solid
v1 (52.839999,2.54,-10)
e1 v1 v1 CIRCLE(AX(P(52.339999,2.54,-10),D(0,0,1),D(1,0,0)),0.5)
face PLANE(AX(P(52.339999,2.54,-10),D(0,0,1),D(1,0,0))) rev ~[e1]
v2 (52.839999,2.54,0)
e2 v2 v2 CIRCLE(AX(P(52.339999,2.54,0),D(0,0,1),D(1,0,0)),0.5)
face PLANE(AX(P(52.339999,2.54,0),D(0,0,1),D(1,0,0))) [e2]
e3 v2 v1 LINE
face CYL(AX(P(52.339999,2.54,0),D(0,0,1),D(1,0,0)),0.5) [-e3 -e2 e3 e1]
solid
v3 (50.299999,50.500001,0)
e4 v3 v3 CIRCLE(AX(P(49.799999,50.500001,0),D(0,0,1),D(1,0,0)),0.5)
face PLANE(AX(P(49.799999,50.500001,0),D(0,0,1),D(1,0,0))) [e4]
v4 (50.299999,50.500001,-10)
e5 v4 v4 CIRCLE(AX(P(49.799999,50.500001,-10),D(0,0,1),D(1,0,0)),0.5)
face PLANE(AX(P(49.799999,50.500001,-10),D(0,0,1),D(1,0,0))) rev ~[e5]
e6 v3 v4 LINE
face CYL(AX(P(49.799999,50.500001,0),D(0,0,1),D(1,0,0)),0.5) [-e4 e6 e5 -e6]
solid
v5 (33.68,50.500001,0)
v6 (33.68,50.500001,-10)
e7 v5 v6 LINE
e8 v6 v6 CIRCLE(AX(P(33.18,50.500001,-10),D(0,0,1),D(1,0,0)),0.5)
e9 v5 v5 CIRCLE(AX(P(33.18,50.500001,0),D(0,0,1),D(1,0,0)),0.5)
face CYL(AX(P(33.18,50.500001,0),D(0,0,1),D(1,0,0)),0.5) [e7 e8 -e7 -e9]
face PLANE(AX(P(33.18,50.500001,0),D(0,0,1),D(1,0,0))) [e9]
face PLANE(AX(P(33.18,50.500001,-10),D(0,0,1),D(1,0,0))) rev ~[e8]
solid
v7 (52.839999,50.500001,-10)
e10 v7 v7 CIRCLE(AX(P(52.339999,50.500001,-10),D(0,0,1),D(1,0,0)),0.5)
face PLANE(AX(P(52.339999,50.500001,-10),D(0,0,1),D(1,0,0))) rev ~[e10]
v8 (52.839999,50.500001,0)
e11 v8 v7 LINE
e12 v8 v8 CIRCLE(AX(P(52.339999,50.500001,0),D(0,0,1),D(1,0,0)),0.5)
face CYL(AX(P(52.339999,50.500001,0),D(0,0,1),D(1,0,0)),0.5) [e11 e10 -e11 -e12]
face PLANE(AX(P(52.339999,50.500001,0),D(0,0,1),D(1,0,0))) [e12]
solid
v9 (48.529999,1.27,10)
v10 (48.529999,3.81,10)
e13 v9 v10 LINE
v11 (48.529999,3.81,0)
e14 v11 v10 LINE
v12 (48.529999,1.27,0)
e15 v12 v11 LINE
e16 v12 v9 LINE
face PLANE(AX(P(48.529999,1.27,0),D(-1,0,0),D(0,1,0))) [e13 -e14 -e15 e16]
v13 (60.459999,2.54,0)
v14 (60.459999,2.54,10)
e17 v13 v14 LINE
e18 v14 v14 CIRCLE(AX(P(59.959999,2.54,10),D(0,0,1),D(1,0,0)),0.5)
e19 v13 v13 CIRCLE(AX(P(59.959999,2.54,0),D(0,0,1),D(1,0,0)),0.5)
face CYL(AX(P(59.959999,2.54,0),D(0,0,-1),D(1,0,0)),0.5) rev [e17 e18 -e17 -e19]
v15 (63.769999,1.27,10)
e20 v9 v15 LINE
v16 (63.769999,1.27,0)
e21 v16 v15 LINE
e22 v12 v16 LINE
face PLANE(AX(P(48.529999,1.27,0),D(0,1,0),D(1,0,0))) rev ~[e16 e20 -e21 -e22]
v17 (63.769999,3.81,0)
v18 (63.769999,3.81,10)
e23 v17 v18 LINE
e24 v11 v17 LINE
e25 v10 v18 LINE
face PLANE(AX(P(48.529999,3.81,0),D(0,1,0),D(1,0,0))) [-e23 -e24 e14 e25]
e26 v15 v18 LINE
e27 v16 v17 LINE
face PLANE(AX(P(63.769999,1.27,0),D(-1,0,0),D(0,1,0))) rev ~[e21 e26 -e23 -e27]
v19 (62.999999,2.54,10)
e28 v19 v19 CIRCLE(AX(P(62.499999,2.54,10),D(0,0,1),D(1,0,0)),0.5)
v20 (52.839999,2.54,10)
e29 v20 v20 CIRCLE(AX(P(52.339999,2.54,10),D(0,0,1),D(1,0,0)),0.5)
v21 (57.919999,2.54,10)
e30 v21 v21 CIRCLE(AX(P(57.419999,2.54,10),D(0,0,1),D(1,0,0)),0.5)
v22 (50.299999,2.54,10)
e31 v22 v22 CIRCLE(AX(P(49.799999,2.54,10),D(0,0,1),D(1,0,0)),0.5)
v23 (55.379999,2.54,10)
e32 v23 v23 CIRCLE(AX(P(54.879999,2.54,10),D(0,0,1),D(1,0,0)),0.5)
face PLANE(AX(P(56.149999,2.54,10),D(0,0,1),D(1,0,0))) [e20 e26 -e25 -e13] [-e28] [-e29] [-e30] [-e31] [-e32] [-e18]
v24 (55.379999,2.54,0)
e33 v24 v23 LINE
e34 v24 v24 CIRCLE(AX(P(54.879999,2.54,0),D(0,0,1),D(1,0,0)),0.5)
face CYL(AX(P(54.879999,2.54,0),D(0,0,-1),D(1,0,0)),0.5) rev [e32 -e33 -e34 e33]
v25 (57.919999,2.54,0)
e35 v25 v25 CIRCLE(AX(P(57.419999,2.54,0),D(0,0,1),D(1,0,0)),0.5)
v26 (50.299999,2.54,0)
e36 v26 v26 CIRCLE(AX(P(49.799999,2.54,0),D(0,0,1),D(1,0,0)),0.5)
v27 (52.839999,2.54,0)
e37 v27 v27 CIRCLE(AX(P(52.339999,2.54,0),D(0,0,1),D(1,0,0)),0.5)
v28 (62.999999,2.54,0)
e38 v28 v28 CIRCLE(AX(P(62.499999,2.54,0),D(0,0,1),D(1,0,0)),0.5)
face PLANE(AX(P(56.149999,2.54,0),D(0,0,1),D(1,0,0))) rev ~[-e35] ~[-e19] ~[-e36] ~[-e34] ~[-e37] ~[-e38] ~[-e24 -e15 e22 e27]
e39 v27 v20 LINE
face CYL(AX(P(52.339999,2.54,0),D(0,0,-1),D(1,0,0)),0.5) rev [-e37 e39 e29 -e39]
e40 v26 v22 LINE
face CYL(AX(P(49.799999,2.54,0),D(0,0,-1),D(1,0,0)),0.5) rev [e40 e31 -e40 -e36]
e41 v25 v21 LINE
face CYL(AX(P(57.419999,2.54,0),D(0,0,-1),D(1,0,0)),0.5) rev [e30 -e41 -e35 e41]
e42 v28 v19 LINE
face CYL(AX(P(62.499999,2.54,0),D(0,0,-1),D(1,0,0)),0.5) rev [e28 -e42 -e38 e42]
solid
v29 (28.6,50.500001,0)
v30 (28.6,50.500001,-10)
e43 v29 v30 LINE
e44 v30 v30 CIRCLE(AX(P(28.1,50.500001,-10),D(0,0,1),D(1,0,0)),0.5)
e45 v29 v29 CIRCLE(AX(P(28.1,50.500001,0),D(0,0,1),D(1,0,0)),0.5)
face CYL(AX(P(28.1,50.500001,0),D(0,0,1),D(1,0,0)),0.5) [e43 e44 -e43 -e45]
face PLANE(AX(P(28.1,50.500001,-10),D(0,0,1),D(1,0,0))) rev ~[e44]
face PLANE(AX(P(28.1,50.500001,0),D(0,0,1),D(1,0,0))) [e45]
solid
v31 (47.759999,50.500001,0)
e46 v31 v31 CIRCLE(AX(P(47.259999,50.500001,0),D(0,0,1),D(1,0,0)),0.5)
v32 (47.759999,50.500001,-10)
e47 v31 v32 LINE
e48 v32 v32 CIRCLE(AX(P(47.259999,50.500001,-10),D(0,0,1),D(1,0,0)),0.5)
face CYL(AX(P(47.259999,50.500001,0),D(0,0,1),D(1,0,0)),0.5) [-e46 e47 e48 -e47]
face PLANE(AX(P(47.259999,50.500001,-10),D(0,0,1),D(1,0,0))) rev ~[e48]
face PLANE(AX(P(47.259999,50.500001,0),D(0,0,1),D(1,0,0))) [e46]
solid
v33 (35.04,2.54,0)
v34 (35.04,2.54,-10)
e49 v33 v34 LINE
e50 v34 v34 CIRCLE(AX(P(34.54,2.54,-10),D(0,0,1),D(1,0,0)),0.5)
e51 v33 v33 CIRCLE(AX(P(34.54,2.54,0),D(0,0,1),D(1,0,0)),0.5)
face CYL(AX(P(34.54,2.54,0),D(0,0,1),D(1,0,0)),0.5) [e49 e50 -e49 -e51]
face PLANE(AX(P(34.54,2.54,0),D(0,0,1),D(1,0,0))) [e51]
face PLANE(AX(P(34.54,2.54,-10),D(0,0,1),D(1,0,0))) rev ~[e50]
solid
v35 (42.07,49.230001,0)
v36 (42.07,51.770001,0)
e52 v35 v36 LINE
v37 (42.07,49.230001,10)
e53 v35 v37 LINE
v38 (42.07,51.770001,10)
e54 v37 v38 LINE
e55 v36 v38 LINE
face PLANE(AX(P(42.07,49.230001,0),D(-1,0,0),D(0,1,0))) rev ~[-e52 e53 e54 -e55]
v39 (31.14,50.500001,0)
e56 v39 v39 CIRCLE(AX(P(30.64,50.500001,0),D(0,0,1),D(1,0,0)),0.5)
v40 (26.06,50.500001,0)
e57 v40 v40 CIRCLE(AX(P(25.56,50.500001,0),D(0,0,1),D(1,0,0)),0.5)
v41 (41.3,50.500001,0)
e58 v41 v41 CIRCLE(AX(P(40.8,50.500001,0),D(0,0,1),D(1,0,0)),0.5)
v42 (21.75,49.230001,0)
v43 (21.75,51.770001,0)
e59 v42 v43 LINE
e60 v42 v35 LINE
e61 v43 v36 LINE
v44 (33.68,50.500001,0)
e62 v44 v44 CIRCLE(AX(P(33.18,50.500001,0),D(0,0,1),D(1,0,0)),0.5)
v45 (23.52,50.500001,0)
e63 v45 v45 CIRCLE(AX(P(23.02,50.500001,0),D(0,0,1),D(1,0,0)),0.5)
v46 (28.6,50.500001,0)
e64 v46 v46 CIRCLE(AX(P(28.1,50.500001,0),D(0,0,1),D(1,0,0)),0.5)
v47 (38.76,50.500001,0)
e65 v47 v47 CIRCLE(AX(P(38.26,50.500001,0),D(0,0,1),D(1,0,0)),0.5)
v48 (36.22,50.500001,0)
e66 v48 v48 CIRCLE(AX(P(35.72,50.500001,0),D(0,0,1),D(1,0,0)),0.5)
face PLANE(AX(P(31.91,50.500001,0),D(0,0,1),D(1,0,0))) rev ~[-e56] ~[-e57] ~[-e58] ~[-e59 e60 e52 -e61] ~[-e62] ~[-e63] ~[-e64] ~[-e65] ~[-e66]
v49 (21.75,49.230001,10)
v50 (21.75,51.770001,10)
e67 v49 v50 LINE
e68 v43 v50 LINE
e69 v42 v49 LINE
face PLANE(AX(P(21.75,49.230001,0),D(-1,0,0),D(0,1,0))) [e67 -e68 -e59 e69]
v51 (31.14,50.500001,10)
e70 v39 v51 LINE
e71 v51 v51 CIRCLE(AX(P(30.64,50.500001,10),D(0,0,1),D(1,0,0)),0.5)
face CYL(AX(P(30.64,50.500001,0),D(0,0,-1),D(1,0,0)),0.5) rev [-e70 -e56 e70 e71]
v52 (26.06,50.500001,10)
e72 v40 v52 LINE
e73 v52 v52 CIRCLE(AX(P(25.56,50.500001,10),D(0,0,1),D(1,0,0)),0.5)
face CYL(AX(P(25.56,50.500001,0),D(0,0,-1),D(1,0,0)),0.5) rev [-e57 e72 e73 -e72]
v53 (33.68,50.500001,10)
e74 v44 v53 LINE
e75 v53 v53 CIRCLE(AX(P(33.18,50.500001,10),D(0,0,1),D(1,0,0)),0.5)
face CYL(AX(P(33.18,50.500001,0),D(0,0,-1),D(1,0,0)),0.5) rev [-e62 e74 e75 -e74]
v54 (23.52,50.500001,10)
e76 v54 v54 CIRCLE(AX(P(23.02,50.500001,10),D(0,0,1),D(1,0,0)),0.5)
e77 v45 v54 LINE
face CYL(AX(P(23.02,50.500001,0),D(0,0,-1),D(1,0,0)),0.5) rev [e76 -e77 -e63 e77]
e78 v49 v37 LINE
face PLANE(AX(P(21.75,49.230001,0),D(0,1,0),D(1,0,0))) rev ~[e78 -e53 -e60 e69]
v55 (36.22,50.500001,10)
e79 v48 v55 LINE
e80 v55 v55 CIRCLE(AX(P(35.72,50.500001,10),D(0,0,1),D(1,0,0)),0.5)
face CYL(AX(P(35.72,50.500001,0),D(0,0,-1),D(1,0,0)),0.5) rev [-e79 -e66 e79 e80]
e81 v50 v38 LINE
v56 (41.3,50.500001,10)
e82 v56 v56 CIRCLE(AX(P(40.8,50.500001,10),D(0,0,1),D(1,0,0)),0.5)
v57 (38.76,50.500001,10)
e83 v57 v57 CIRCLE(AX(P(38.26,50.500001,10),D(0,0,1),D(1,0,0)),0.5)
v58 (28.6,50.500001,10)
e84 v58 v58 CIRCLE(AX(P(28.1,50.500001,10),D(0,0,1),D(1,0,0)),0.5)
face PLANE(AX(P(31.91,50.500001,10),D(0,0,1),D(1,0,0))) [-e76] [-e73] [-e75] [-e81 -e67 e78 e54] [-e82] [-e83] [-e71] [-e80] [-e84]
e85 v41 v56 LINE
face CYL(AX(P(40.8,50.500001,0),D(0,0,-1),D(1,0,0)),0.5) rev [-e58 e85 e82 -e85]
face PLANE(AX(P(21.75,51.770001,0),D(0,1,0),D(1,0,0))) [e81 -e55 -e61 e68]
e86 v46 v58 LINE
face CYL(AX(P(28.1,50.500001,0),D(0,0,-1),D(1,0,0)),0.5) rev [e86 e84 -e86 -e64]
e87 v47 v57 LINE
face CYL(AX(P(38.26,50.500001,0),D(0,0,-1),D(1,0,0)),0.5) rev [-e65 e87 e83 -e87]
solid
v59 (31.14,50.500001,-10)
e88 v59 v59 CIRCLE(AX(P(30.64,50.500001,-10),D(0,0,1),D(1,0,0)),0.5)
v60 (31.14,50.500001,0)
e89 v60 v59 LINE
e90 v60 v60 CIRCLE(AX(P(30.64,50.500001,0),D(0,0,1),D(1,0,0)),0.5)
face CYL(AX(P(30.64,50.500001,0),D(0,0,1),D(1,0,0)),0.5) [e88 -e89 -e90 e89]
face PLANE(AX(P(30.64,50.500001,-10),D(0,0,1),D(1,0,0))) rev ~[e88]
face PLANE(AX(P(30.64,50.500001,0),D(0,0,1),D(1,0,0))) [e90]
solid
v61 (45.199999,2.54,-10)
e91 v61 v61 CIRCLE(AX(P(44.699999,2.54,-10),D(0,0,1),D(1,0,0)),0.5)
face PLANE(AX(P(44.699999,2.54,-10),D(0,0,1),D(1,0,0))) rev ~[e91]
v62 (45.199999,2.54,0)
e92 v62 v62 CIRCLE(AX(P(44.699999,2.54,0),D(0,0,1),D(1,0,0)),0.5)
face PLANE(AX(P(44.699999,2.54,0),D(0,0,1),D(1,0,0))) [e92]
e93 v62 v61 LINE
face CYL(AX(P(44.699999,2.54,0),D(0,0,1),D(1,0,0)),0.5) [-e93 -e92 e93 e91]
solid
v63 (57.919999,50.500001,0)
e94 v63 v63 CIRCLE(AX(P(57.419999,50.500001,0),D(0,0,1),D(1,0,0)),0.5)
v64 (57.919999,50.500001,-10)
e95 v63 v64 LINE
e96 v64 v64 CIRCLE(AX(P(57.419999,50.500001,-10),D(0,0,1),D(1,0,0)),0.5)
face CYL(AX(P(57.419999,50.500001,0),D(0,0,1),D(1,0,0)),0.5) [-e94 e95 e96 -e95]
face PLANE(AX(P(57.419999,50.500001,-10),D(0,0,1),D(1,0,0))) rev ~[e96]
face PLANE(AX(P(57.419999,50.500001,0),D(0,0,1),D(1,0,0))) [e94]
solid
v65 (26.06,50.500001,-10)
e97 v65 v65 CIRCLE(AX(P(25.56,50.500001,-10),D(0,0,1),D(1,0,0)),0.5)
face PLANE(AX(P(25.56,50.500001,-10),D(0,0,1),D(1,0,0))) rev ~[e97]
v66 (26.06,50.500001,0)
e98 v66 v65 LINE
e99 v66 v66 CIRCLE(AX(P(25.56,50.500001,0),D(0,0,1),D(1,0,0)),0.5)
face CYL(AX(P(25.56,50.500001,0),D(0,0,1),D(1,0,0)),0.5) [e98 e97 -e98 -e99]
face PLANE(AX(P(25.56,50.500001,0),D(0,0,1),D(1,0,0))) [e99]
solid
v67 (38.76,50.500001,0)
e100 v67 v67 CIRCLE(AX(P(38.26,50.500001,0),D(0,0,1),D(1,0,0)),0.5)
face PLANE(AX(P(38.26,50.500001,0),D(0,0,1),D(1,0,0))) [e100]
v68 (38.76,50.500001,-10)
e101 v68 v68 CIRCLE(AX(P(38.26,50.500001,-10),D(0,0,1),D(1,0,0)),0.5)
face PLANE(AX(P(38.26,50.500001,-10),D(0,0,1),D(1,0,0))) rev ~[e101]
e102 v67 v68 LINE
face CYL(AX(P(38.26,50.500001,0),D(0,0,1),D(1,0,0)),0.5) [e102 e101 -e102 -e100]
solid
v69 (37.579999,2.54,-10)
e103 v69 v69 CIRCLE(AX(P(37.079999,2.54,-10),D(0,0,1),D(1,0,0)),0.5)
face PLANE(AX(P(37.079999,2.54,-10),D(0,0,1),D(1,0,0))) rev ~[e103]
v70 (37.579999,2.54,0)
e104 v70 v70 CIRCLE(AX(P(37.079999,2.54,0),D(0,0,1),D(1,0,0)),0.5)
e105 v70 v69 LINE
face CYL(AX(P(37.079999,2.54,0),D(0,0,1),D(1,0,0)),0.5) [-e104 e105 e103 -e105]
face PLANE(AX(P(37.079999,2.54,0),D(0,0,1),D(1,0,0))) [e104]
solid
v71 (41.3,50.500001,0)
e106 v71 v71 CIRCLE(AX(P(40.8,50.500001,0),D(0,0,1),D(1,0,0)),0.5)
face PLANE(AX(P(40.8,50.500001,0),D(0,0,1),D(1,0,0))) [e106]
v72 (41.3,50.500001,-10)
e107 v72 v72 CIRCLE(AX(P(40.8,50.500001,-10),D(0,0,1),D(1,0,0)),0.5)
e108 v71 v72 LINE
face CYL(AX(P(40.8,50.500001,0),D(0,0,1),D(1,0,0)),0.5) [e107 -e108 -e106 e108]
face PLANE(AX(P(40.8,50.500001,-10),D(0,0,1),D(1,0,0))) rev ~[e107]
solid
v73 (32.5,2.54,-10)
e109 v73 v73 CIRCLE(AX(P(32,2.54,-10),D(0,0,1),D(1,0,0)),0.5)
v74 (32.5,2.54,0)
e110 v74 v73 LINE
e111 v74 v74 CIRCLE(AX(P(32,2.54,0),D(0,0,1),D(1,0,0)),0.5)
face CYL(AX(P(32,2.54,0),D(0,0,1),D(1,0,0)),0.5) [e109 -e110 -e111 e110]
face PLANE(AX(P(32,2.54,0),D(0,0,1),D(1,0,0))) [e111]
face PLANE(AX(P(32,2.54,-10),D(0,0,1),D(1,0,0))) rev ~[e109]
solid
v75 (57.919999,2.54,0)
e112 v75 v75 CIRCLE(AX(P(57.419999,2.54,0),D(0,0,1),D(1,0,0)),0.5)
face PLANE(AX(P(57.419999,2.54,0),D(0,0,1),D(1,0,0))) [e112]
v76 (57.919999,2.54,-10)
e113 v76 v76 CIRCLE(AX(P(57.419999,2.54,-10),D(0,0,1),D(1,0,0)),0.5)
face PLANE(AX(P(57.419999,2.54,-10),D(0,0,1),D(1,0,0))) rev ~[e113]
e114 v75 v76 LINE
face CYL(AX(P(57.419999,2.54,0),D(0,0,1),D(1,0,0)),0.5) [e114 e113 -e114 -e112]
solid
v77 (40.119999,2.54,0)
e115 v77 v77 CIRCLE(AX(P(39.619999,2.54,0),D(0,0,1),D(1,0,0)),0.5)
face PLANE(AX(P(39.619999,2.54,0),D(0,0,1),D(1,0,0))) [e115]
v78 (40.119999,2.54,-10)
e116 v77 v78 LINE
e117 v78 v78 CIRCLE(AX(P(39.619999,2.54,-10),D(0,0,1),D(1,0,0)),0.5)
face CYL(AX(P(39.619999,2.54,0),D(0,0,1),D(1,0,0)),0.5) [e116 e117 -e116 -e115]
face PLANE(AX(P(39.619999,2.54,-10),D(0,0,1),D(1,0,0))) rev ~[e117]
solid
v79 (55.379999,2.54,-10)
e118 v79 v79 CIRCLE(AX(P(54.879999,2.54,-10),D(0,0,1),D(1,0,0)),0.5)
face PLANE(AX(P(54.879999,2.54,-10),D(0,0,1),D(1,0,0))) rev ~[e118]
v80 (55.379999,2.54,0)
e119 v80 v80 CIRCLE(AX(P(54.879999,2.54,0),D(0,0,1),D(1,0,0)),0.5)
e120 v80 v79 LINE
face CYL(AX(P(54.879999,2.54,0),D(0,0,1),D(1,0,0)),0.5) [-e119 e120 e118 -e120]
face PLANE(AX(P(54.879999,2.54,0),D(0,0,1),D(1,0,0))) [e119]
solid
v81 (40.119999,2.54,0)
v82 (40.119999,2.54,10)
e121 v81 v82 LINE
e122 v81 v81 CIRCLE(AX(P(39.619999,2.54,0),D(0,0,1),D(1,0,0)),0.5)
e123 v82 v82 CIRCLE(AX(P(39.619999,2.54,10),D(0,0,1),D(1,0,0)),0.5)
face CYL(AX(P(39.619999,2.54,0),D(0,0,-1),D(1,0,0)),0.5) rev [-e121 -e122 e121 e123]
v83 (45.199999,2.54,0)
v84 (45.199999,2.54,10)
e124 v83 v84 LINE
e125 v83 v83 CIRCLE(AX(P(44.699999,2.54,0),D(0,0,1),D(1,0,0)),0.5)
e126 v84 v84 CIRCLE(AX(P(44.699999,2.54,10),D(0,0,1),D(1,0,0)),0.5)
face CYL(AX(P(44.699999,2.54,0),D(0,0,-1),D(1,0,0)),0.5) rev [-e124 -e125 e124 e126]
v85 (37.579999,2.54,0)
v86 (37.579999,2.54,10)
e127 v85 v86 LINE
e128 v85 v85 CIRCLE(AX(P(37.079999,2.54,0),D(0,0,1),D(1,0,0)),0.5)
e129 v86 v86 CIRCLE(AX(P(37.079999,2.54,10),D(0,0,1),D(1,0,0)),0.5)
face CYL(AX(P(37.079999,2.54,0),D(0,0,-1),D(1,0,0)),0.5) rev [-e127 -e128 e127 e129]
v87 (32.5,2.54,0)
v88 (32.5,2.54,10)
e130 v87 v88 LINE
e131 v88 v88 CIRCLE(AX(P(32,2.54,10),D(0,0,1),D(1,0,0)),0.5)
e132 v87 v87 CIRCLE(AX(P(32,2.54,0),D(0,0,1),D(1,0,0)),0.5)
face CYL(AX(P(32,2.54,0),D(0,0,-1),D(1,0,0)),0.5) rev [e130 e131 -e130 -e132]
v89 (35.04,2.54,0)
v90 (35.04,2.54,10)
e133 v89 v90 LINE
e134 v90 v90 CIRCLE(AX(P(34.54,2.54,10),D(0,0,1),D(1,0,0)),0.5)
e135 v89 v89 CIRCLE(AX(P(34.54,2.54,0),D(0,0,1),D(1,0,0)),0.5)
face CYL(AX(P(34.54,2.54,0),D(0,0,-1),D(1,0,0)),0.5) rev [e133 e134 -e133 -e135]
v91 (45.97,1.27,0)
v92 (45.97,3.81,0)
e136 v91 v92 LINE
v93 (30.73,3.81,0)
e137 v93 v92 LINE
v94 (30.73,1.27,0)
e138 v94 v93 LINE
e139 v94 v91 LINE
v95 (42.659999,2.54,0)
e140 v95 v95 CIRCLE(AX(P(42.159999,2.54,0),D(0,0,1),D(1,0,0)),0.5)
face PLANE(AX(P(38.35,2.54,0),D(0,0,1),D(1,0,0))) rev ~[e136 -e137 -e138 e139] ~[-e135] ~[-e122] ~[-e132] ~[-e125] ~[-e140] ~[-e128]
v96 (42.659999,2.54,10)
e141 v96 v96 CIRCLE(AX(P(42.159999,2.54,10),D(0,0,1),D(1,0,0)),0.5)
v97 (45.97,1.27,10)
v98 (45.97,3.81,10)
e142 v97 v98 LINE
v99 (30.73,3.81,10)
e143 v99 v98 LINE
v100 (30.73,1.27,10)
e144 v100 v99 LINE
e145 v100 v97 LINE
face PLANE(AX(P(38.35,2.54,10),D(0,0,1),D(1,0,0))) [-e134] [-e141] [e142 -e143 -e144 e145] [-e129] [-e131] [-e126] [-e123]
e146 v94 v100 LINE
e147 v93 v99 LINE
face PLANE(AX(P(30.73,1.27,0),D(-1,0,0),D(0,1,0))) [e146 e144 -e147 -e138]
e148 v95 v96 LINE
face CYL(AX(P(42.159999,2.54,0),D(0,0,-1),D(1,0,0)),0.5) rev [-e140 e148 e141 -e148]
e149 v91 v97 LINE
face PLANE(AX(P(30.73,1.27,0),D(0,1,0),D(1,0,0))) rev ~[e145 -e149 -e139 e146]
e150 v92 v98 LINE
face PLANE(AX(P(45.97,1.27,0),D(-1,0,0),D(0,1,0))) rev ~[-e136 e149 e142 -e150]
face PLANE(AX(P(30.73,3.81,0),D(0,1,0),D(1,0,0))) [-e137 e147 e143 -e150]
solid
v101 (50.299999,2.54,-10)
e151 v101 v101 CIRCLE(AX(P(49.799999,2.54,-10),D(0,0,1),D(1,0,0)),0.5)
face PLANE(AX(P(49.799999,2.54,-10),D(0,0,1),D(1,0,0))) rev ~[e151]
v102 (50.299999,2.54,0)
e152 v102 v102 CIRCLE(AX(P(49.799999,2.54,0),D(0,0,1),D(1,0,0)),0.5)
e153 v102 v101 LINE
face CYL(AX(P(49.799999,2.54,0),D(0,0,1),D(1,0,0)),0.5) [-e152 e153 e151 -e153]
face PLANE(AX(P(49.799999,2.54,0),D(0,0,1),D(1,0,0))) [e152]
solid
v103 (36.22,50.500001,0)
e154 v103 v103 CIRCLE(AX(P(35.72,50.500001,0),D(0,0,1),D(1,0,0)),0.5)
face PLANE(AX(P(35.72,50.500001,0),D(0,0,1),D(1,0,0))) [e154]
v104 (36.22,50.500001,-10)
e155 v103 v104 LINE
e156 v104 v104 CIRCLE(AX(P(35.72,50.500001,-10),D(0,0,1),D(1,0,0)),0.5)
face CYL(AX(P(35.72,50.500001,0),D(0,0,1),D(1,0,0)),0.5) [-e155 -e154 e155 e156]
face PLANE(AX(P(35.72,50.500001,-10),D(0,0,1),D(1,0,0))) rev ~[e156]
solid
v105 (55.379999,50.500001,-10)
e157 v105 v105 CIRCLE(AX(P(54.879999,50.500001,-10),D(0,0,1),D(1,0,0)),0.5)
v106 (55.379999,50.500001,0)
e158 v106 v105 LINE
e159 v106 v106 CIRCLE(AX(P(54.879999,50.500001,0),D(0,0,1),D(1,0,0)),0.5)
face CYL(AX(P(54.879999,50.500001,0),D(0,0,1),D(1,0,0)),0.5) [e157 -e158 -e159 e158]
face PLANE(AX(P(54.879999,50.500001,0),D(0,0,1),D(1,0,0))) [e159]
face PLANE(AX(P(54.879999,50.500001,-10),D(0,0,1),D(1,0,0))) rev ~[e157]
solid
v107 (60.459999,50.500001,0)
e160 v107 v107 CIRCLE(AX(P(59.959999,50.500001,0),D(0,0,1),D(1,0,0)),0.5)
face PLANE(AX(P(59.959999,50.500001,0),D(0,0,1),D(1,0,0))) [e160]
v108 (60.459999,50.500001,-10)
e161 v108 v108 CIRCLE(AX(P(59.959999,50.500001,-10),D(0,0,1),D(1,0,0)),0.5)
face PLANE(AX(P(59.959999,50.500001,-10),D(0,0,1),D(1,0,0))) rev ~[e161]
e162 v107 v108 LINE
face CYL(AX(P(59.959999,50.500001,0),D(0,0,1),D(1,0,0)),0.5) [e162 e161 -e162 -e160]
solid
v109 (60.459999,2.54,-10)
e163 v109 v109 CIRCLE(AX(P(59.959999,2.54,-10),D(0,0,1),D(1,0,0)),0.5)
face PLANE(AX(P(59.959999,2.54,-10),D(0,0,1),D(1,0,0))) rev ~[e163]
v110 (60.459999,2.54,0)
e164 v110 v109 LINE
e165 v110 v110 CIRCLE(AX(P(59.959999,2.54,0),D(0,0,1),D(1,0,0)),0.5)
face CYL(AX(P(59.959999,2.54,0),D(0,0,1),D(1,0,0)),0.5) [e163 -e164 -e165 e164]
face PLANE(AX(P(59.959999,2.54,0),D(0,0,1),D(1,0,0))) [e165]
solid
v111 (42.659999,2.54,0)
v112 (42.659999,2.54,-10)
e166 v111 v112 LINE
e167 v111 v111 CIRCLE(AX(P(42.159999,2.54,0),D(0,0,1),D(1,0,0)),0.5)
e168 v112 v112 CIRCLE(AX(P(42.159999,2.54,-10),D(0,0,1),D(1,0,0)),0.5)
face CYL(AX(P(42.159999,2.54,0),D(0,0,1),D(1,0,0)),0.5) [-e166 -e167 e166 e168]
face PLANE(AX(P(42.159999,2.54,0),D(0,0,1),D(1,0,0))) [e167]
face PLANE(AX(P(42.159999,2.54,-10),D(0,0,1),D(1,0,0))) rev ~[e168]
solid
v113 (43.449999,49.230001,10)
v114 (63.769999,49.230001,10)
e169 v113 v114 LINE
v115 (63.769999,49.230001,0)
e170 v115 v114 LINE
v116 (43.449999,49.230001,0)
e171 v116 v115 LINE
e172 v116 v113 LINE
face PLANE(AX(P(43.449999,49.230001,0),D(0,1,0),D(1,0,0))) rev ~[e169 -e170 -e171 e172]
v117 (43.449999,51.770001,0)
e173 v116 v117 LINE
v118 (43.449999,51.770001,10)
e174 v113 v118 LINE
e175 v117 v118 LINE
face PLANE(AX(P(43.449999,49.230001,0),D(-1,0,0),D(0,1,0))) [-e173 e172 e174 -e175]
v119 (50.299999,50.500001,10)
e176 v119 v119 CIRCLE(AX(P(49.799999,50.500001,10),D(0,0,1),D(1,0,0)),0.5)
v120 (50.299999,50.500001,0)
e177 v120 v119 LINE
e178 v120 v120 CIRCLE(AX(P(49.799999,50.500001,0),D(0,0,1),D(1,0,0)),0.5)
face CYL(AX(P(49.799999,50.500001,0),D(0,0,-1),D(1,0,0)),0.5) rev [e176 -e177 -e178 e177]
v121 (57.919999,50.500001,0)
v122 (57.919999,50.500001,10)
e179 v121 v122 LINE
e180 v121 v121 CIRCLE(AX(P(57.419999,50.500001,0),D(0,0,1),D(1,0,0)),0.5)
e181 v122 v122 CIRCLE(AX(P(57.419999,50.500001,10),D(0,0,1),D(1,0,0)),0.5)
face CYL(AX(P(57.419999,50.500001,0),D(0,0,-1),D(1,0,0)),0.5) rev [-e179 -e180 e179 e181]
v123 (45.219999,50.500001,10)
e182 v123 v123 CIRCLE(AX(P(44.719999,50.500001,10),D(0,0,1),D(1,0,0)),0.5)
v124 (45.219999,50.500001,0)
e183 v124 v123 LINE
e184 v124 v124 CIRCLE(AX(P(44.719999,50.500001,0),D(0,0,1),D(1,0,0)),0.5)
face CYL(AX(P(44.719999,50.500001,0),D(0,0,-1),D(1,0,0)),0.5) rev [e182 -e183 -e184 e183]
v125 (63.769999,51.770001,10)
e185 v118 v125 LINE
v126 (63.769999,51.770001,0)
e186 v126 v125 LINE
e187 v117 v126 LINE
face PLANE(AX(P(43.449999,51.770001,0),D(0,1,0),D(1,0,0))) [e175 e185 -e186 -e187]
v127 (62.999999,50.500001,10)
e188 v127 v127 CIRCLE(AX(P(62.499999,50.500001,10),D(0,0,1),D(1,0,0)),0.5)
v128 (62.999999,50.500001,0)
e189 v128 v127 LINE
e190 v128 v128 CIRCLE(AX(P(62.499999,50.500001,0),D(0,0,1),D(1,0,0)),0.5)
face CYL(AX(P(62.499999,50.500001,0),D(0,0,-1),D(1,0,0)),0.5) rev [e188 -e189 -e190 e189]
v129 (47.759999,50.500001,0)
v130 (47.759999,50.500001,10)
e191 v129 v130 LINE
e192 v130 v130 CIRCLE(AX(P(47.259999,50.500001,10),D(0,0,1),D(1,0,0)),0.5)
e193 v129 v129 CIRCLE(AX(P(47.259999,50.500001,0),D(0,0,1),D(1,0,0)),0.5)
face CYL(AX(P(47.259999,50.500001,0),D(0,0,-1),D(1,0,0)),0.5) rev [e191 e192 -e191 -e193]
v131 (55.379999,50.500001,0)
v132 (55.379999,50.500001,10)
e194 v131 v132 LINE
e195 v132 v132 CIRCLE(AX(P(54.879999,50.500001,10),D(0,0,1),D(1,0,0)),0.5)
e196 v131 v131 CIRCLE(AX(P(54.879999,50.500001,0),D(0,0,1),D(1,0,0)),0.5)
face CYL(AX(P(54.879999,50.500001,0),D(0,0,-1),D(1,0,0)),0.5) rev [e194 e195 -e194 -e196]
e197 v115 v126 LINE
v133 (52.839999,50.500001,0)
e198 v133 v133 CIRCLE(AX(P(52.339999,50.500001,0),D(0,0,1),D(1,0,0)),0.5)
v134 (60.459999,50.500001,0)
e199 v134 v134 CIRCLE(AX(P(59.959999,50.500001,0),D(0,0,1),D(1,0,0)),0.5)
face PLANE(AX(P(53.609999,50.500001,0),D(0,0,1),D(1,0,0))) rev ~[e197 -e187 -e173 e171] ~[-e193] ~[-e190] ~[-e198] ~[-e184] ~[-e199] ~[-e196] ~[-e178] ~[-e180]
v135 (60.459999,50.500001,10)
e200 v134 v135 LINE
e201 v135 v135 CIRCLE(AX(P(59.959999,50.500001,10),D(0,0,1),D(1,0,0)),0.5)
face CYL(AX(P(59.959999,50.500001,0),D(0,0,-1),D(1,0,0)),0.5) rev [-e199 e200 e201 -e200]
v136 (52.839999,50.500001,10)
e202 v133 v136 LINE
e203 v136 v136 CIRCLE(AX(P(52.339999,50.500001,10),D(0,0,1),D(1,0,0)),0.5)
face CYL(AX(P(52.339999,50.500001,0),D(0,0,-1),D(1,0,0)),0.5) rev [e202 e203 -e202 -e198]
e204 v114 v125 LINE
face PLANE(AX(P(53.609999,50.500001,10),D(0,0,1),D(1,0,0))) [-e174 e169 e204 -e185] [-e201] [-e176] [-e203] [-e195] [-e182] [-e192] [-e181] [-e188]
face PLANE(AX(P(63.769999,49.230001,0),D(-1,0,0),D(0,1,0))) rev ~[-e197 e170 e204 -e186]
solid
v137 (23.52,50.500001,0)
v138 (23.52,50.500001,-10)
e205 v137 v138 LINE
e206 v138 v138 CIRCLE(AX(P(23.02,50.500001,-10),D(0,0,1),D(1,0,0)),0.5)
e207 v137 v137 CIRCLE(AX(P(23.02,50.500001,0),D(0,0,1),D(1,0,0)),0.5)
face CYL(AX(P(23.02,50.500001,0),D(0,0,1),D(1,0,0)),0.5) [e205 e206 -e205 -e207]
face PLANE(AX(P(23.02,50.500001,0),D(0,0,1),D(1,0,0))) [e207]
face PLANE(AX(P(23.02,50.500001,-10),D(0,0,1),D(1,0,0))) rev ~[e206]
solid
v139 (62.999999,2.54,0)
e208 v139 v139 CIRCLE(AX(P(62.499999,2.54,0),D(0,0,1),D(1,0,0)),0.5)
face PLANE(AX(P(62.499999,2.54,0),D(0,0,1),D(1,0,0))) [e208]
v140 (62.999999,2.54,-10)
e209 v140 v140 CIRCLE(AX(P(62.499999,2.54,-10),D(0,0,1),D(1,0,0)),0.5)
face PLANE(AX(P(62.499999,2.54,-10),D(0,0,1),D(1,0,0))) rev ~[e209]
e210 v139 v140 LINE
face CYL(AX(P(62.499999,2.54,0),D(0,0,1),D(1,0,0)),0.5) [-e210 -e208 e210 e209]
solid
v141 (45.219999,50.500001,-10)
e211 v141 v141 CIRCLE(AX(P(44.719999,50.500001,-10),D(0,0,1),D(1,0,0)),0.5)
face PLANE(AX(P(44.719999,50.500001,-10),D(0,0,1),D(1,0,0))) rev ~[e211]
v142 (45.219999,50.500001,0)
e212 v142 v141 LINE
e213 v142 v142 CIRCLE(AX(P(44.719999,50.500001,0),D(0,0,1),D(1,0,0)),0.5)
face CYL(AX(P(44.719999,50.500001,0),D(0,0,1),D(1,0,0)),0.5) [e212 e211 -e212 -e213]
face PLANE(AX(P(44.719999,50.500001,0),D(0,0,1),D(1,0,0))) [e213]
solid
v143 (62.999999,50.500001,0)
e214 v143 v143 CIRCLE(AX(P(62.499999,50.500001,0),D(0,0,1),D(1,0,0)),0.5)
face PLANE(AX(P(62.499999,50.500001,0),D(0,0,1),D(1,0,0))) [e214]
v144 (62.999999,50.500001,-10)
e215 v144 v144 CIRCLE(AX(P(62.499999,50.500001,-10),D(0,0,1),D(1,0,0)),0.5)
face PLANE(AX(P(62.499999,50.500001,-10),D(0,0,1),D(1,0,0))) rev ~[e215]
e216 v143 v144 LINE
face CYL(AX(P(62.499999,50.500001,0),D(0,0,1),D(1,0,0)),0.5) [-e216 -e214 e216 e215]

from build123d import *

# Parameters (mm, degrees)
SKETCH1_W              = 15.24
SKETCH1_H              = 2.54
SKETCH1_R              = 0.5
BOSS_EXTRUDE1_DEPTH    = 10
BOSS_EXTRUDE1_2_DEPTH  = 10
SKETCH1_W_2            = 20.32
BOSS_EXTRUDE1_3_DEPTH  = 10
BOSS_EXTRUDE1_4_DEPTH  = 10
SKETCH1_3_R            = 0.5
BOSS_EXTRUDE2_DEPTH    = 10
BOSS_EXTRUDE2_2_DEPTH  = 10
BOSS_EXTRUDE2_3_DEPTH  = 10
BOSS_EXTRUDE2_4_DEPTH  = 10
BOSS_EXTRUDE2_5_DEPTH  = 10
BOSS_EXTRUDE2_6_DEPTH  = 10
BOSS_EXTRUDE2_7_DEPTH  = 10
BOSS_EXTRUDE2_8_DEPTH  = 10
BOSS_EXTRUDE2_9_DEPTH  = 10
BOSS_EXTRUDE2_10_DEPTH = 10
BOSS_EXTRUDE2_11_DEPTH = 10
BOSS_EXTRUDE2_12_DEPTH = 10
BOSS_EXTRUDE2_13_DEPTH = 10
BOSS_EXTRUDE2_14_DEPTH = 10
BOSS_EXTRUDE2_15_DEPTH = 10
BOSS_EXTRUDE2_16_DEPTH = 10
BOSS_EXTRUDE2_17_DEPTH = 10
BOSS_EXTRUDE2_18_DEPTH = 10
BOSS_EXTRUDE2_19_DEPTH = 10
BOSS_EXTRUDE2_20_DEPTH = 10
BOSS_EXTRUDE2_21_DEPTH = 10
BOSS_EXTRUDE2_22_DEPTH = 10
BOSS_EXTRUDE2_23_DEPTH = 10
BOSS_EXTRUDE2_24_DEPTH = 10
BOSS_EXTRUDE2_25_DEPTH = 10
BOSS_EXTRUDE2_26_DEPTH = 10
BOSS_EXTRUDE2_27_DEPTH = 10
BOSS_EXTRUDE2_28_DEPTH = 10


with BuildPart() as part:
    # Sketch1 → Boss-Extrude1 (new body)
    with BuildSketch(Plane.XY):
        with Locations((38.3499995, 2.54)):
            Rectangle(SKETCH1_W, SKETCH1_H)
        with Locations((31.9999995, 2.54)):
            Circle(SKETCH1_R, mode=Mode.SUBTRACT)
        with Locations((34.5399995, 2.54)):
            Circle(SKETCH1_R, mode=Mode.SUBTRACT)
        with Locations((37.0799995, 2.54)):
            Circle(SKETCH1_R, mode=Mode.SUBTRACT)
        with Locations((39.6199995, 2.54)):
            Circle(SKETCH1_R, mode=Mode.SUBTRACT)
        with Locations((42.1599995, 2.54)):
            Circle(SKETCH1_R, mode=Mode.SUBTRACT)
        with Locations((44.6999995, 2.54)):
            Circle(SKETCH1_R, mode=Mode.SUBTRACT)
    extrude(amount=BOSS_EXTRUDE1_DEPTH)


with BuildPart() as body_2:
    # Sketch1 → Boss-Extrude1 2 (new body)
    with BuildSketch(Plane.XY):
        with Locations((56.14999946, 2.54)):
            Rectangle(SKETCH1_W, SKETCH1_H)
        with Locations((49.79999946, 2.54)):
            Circle(SKETCH1_R, mode=Mode.SUBTRACT)
        with Locations((52.33999946, 2.54)):
            Circle(SKETCH1_R, mode=Mode.SUBTRACT)
        with Locations((54.87999946, 2.54)):
            Circle(SKETCH1_R, mode=Mode.SUBTRACT)
        with Locations((57.41999946, 2.54)):
            Circle(SKETCH1_R, mode=Mode.SUBTRACT)
        with Locations((59.95999946, 2.54)):
            Circle(SKETCH1_R, mode=Mode.SUBTRACT)
        with Locations((62.49999946, 2.54)):
            Circle(SKETCH1_R, mode=Mode.SUBTRACT)
    extrude(amount=BOSS_EXTRUDE1_2_DEPTH)


with BuildPart() as body_3:
    # Sketch1 → Boss-Extrude1 3 (new body)
    with BuildSketch(Plane.XY):
        with Locations((31.90999968, 50.5000006)):
            Rectangle(SKETCH1_W_2, SKETCH1_H)
        with Locations((23.01999968, 50.5000006)):
            Circle(SKETCH1_R, mode=Mode.SUBTRACT)
        with Locations((25.55999968, 50.5000006)):
            Circle(SKETCH1_R, mode=Mode.SUBTRACT)
        with Locations((28.09999968, 50.5000006)):
            Circle(SKETCH1_R, mode=Mode.SUBTRACT)
        with Locations((30.63999968, 50.5000006)):
            Circle(SKETCH1_R, mode=Mode.SUBTRACT)
        with Locations((33.17999968, 50.5000006)):
            Circle(SKETCH1_R, mode=Mode.SUBTRACT)
        with Locations((35.71999968, 50.5000006)):
            Circle(SKETCH1_R, mode=Mode.SUBTRACT)
        with Locations((38.25999968, 50.5000006)):
            Circle(SKETCH1_R, mode=Mode.SUBTRACT)
        with Locations((40.79999968, 50.5000006)):
            Circle(SKETCH1_R, mode=Mode.SUBTRACT)
    extrude(amount=BOSS_EXTRUDE1_3_DEPTH)


with BuildPart() as body_4:
    # Sketch1 → Boss-Extrude1 4 (new body)
    with BuildSketch(Plane.XY):
        with Locations((53.60999946, 50.5000006)):
            Rectangle(SKETCH1_W_2, SKETCH1_H)
        with Locations((44.71999946, 50.5000006)):
            Circle(SKETCH1_R, mode=Mode.SUBTRACT)
        with Locations((47.25999946, 50.5000006)):
            Circle(SKETCH1_R, mode=Mode.SUBTRACT)
        with Locations((49.79999946, 50.5000006)):
            Circle(SKETCH1_R, mode=Mode.SUBTRACT)
        with Locations((52.33999946, 50.5000006)):
            Circle(SKETCH1_R, mode=Mode.SUBTRACT)
        with Locations((54.87999946, 50.5000006)):
            Circle(SKETCH1_R, mode=Mode.SUBTRACT)
        with Locations((57.41999946, 50.5000006)):
            Circle(SKETCH1_R, mode=Mode.SUBTRACT)
        with Locations((59.95999946, 50.5000006)):
            Circle(SKETCH1_R, mode=Mode.SUBTRACT)
        with Locations((62.49999946, 50.5000006)):
            Circle(SKETCH1_R, mode=Mode.SUBTRACT)
    extrude(amount=BOSS_EXTRUDE1_4_DEPTH)


with BuildPart() as body_5:
    # Sketch1<3> → Boss-Extrude2 (new body)
    with BuildSketch(Plane.XY):
        with Locations((23.01999968, 50.5000006)):
            Circle(SKETCH1_3_R)
    extrude(amount=-BOSS_EXTRUDE2_DEPTH)


with BuildPart() as body_6:
    # Sketch1<3> → Boss-Extrude2 2 (new body)
    with BuildSketch(Plane.XY):
        with Locations((25.55999968, 50.5000006)):
            Circle(SKETCH1_3_R)
    extrude(amount=-BOSS_EXTRUDE2_2_DEPTH)


with BuildPart() as body_7:
    # Sketch1<3> → Boss-Extrude2 3 (new body)
    with BuildSketch(Plane.XY):
        with Locations((28.09999968, 50.5000006)):
            Circle(SKETCH1_3_R)
    extrude(amount=-BOSS_EXTRUDE2_3_DEPTH)


with BuildPart() as body_8:
    # Sketch1<3> → Boss-Extrude2 4 (new body)
    with BuildSketch(Plane.XY):
        with Locations((30.63999968, 50.5000006)):
            Circle(SKETCH1_3_R)
    extrude(amount=-BOSS_EXTRUDE2_4_DEPTH)


with BuildPart() as body_9:
    # Sketch1<3> → Boss-Extrude2 5 (new body)
    with BuildSketch(Plane.XY):
        with Locations((33.17999968, 50.5000006)):
            Circle(SKETCH1_3_R)
    extrude(amount=-BOSS_EXTRUDE2_5_DEPTH)


with BuildPart() as body_10:
    # Sketch1<3> → Boss-Extrude2 6 (new body)
    with BuildSketch(Plane.XY):
        with Locations((35.71999968, 50.5000006)):
            Circle(SKETCH1_3_R)
    extrude(amount=-BOSS_EXTRUDE2_6_DEPTH)


with BuildPart() as body_11:
    # Sketch1<3> → Boss-Extrude2 7 (new body)
    with BuildSketch(Plane.XY):
        with Locations((38.25999968, 50.5000006)):
            Circle(SKETCH1_3_R)
    extrude(amount=-BOSS_EXTRUDE2_7_DEPTH)


with BuildPart() as body_12:
    # Sketch1<3> → Boss-Extrude2 8 (new body)
    with BuildSketch(Plane.XY):
        with Locations((40.79999968, 50.5000006)):
            Circle(SKETCH1_3_R)
    extrude(amount=-BOSS_EXTRUDE2_8_DEPTH)


with BuildPart() as body_13:
    # Sketch1<3> → Boss-Extrude2 9 (new body)
    with BuildSketch(Plane.XY):
        with Locations((44.71999946, 50.5000006)):
            Circle(SKETCH1_3_R)
    extrude(amount=-BOSS_EXTRUDE2_9_DEPTH)


with BuildPart() as body_14:
    # Sketch1<3> → Boss-Extrude2 10 (new body)
    with BuildSketch(Plane.XY):
        with Locations((31.9999995, 2.54)):
            Circle(SKETCH1_3_R)
    extrude(amount=-BOSS_EXTRUDE2_10_DEPTH)


with BuildPart() as body_15:
    # Sketch1<3> → Boss-Extrude2 11 (new body)
    with BuildSketch(Plane.XY):
        with Locations((49.79999946, 2.54)):
            Circle(SKETCH1_3_R)
    extrude(amount=-BOSS_EXTRUDE2_11_DEPTH)


with BuildPart() as body_16:
    # Sketch1<3> → Boss-Extrude2 12 (new body)
    with BuildSketch(Plane.XY):
        with Locations((47.25999946, 50.5000006)):
            Circle(SKETCH1_3_R)
    extrude(amount=-BOSS_EXTRUDE2_12_DEPTH)


with BuildPart() as body_17:
    # Sketch1<3> → Boss-Extrude2 13 (new body)
    with BuildSketch(Plane.XY):
        with Locations((49.79999946, 50.5000006)):
            Circle(SKETCH1_3_R)
    extrude(amount=-BOSS_EXTRUDE2_13_DEPTH)


with BuildPart() as body_18:
    # Sketch1<3> → Boss-Extrude2 14 (new body)
    with BuildSketch(Plane.XY):
        with Locations((52.33999946, 50.5000006)):
            Circle(SKETCH1_3_R)
    extrude(amount=-BOSS_EXTRUDE2_14_DEPTH)


with BuildPart() as body_19:
    # Sketch1<3> → Boss-Extrude2 15 (new body)
    with BuildSketch(Plane.XY):
        with Locations((54.87999946, 50.5000006)):
            Circle(SKETCH1_3_R)
    extrude(amount=-BOSS_EXTRUDE2_15_DEPTH)


with BuildPart() as body_20:
    # Sketch1<3> → Boss-Extrude2 16 (new body)
    with BuildSketch(Plane.XY):
        with Locations((57.41999946, 50.5000006)):
            Circle(SKETCH1_3_R)
    extrude(amount=-BOSS_EXTRUDE2_16_DEPTH)


with BuildPart() as body_21:
    # Sketch1<3> → Boss-Extrude2 17 (new body)
    with BuildSketch(Plane.XY):
        with Locations((59.95999946, 50.5000006)):
            Circle(SKETCH1_3_R)
    extrude(amount=-BOSS_EXTRUDE2_17_DEPTH)


with BuildPart() as body_22:
    # Sketch1<3> → Boss-Extrude2 18 (new body)
    with BuildSketch(Plane.XY):
        with Locations((62.49999946, 50.5000006)):
            Circle(SKETCH1_3_R)
    extrude(amount=-BOSS_EXTRUDE2_18_DEPTH)


with BuildPart() as body_23:
    # Sketch1<3> → Boss-Extrude2 19 (new body)
    with BuildSketch(Plane.XY):
        with Locations((34.5399995, 2.54)):
            Circle(SKETCH1_3_R)
    extrude(amount=-BOSS_EXTRUDE2_19_DEPTH)


with BuildPart() as body_24:
    # Sketch1<3> → Boss-Extrude2 20 (new body)
    with BuildSketch(Plane.XY):
        with Locations((52.33999946, 2.54)):
            Circle(SKETCH1_3_R)
    extrude(amount=-BOSS_EXTRUDE2_20_DEPTH)


with BuildPart() as body_25:
    # Sketch1<3> → Boss-Extrude2 21 (new body)
    with BuildSketch(Plane.XY):
        with Locations((37.0799995, 2.54)):
            Circle(SKETCH1_3_R)
    extrude(amount=-BOSS_EXTRUDE2_21_DEPTH)


with BuildPart() as body_26:
    # Sketch1<3> → Boss-Extrude2 22 (new body)
    with BuildSketch(Plane.XY):
        with Locations((54.87999946, 2.54)):
            Circle(SKETCH1_3_R)
    extrude(amount=-BOSS_EXTRUDE2_22_DEPTH)


with BuildPart() as body_27:
    # Sketch1<3> → Boss-Extrude2 23 (new body)
    with BuildSketch(Plane.XY):
        with Locations((39.6199995, 2.54)):
            Circle(SKETCH1_3_R)
    extrude(amount=-BOSS_EXTRUDE2_23_DEPTH)


with BuildPart() as body_28:
    # Sketch1<3> → Boss-Extrude2 24 (new body)
    with BuildSketch(Plane.XY):
        with Locations((57.41999946, 2.54)):
            Circle(SKETCH1_3_R)
    extrude(amount=-BOSS_EXTRUDE2_24_DEPTH)


with BuildPart() as body_29:
    # Sketch1<3> → Boss-Extrude2 25 (new body)
    with BuildSketch(Plane.XY):
        with Locations((42.1599995, 2.54)):
            Circle(SKETCH1_3_R)
    extrude(amount=-BOSS_EXTRUDE2_25_DEPTH)


with BuildPart() as body_30:
    # Sketch1<3> → Boss-Extrude2 26 (new body)
    with BuildSketch(Plane.XY):
        with Locations((59.95999946, 2.54)):
            Circle(SKETCH1_3_R)
    extrude(amount=-BOSS_EXTRUDE2_26_DEPTH)


with BuildPart() as body_31:
    # Sketch1<3> → Boss-Extrude2 27 (new body)
    with BuildSketch(Plane.XY):
        with Locations((44.6999995, 2.54)):
            Circle(SKETCH1_3_R)
    extrude(amount=-BOSS_EXTRUDE2_27_DEPTH)


with BuildPart() as body_32:
    # Sketch1<3> → Boss-Extrude2 28 (new body)
    with BuildSketch(Plane.XY):
        with Locations((62.49999946, 2.54)):
            Circle(SKETCH1_3_R)
    extrude(amount=-BOSS_EXTRUDE2_28_DEPTH)


solid = Compound([part.part, body_2.part, body_3.part, body_4.part, body_5.part, body_6.part, body_7.part, body_8.part, body_9.part, body_10.part, body_11.part, body_12.part, body_13.part, body_14.part, body_15.part, body_16.part, body_17.part, body_18.part, body_19.part, body_20.part, body_21.part, body_22.part, body_23.part, body_24.part, body_25.part, body_26.part, body_27.part, body_28.part, body_29.part, body_30.part, body_31.part, body_32.part])
